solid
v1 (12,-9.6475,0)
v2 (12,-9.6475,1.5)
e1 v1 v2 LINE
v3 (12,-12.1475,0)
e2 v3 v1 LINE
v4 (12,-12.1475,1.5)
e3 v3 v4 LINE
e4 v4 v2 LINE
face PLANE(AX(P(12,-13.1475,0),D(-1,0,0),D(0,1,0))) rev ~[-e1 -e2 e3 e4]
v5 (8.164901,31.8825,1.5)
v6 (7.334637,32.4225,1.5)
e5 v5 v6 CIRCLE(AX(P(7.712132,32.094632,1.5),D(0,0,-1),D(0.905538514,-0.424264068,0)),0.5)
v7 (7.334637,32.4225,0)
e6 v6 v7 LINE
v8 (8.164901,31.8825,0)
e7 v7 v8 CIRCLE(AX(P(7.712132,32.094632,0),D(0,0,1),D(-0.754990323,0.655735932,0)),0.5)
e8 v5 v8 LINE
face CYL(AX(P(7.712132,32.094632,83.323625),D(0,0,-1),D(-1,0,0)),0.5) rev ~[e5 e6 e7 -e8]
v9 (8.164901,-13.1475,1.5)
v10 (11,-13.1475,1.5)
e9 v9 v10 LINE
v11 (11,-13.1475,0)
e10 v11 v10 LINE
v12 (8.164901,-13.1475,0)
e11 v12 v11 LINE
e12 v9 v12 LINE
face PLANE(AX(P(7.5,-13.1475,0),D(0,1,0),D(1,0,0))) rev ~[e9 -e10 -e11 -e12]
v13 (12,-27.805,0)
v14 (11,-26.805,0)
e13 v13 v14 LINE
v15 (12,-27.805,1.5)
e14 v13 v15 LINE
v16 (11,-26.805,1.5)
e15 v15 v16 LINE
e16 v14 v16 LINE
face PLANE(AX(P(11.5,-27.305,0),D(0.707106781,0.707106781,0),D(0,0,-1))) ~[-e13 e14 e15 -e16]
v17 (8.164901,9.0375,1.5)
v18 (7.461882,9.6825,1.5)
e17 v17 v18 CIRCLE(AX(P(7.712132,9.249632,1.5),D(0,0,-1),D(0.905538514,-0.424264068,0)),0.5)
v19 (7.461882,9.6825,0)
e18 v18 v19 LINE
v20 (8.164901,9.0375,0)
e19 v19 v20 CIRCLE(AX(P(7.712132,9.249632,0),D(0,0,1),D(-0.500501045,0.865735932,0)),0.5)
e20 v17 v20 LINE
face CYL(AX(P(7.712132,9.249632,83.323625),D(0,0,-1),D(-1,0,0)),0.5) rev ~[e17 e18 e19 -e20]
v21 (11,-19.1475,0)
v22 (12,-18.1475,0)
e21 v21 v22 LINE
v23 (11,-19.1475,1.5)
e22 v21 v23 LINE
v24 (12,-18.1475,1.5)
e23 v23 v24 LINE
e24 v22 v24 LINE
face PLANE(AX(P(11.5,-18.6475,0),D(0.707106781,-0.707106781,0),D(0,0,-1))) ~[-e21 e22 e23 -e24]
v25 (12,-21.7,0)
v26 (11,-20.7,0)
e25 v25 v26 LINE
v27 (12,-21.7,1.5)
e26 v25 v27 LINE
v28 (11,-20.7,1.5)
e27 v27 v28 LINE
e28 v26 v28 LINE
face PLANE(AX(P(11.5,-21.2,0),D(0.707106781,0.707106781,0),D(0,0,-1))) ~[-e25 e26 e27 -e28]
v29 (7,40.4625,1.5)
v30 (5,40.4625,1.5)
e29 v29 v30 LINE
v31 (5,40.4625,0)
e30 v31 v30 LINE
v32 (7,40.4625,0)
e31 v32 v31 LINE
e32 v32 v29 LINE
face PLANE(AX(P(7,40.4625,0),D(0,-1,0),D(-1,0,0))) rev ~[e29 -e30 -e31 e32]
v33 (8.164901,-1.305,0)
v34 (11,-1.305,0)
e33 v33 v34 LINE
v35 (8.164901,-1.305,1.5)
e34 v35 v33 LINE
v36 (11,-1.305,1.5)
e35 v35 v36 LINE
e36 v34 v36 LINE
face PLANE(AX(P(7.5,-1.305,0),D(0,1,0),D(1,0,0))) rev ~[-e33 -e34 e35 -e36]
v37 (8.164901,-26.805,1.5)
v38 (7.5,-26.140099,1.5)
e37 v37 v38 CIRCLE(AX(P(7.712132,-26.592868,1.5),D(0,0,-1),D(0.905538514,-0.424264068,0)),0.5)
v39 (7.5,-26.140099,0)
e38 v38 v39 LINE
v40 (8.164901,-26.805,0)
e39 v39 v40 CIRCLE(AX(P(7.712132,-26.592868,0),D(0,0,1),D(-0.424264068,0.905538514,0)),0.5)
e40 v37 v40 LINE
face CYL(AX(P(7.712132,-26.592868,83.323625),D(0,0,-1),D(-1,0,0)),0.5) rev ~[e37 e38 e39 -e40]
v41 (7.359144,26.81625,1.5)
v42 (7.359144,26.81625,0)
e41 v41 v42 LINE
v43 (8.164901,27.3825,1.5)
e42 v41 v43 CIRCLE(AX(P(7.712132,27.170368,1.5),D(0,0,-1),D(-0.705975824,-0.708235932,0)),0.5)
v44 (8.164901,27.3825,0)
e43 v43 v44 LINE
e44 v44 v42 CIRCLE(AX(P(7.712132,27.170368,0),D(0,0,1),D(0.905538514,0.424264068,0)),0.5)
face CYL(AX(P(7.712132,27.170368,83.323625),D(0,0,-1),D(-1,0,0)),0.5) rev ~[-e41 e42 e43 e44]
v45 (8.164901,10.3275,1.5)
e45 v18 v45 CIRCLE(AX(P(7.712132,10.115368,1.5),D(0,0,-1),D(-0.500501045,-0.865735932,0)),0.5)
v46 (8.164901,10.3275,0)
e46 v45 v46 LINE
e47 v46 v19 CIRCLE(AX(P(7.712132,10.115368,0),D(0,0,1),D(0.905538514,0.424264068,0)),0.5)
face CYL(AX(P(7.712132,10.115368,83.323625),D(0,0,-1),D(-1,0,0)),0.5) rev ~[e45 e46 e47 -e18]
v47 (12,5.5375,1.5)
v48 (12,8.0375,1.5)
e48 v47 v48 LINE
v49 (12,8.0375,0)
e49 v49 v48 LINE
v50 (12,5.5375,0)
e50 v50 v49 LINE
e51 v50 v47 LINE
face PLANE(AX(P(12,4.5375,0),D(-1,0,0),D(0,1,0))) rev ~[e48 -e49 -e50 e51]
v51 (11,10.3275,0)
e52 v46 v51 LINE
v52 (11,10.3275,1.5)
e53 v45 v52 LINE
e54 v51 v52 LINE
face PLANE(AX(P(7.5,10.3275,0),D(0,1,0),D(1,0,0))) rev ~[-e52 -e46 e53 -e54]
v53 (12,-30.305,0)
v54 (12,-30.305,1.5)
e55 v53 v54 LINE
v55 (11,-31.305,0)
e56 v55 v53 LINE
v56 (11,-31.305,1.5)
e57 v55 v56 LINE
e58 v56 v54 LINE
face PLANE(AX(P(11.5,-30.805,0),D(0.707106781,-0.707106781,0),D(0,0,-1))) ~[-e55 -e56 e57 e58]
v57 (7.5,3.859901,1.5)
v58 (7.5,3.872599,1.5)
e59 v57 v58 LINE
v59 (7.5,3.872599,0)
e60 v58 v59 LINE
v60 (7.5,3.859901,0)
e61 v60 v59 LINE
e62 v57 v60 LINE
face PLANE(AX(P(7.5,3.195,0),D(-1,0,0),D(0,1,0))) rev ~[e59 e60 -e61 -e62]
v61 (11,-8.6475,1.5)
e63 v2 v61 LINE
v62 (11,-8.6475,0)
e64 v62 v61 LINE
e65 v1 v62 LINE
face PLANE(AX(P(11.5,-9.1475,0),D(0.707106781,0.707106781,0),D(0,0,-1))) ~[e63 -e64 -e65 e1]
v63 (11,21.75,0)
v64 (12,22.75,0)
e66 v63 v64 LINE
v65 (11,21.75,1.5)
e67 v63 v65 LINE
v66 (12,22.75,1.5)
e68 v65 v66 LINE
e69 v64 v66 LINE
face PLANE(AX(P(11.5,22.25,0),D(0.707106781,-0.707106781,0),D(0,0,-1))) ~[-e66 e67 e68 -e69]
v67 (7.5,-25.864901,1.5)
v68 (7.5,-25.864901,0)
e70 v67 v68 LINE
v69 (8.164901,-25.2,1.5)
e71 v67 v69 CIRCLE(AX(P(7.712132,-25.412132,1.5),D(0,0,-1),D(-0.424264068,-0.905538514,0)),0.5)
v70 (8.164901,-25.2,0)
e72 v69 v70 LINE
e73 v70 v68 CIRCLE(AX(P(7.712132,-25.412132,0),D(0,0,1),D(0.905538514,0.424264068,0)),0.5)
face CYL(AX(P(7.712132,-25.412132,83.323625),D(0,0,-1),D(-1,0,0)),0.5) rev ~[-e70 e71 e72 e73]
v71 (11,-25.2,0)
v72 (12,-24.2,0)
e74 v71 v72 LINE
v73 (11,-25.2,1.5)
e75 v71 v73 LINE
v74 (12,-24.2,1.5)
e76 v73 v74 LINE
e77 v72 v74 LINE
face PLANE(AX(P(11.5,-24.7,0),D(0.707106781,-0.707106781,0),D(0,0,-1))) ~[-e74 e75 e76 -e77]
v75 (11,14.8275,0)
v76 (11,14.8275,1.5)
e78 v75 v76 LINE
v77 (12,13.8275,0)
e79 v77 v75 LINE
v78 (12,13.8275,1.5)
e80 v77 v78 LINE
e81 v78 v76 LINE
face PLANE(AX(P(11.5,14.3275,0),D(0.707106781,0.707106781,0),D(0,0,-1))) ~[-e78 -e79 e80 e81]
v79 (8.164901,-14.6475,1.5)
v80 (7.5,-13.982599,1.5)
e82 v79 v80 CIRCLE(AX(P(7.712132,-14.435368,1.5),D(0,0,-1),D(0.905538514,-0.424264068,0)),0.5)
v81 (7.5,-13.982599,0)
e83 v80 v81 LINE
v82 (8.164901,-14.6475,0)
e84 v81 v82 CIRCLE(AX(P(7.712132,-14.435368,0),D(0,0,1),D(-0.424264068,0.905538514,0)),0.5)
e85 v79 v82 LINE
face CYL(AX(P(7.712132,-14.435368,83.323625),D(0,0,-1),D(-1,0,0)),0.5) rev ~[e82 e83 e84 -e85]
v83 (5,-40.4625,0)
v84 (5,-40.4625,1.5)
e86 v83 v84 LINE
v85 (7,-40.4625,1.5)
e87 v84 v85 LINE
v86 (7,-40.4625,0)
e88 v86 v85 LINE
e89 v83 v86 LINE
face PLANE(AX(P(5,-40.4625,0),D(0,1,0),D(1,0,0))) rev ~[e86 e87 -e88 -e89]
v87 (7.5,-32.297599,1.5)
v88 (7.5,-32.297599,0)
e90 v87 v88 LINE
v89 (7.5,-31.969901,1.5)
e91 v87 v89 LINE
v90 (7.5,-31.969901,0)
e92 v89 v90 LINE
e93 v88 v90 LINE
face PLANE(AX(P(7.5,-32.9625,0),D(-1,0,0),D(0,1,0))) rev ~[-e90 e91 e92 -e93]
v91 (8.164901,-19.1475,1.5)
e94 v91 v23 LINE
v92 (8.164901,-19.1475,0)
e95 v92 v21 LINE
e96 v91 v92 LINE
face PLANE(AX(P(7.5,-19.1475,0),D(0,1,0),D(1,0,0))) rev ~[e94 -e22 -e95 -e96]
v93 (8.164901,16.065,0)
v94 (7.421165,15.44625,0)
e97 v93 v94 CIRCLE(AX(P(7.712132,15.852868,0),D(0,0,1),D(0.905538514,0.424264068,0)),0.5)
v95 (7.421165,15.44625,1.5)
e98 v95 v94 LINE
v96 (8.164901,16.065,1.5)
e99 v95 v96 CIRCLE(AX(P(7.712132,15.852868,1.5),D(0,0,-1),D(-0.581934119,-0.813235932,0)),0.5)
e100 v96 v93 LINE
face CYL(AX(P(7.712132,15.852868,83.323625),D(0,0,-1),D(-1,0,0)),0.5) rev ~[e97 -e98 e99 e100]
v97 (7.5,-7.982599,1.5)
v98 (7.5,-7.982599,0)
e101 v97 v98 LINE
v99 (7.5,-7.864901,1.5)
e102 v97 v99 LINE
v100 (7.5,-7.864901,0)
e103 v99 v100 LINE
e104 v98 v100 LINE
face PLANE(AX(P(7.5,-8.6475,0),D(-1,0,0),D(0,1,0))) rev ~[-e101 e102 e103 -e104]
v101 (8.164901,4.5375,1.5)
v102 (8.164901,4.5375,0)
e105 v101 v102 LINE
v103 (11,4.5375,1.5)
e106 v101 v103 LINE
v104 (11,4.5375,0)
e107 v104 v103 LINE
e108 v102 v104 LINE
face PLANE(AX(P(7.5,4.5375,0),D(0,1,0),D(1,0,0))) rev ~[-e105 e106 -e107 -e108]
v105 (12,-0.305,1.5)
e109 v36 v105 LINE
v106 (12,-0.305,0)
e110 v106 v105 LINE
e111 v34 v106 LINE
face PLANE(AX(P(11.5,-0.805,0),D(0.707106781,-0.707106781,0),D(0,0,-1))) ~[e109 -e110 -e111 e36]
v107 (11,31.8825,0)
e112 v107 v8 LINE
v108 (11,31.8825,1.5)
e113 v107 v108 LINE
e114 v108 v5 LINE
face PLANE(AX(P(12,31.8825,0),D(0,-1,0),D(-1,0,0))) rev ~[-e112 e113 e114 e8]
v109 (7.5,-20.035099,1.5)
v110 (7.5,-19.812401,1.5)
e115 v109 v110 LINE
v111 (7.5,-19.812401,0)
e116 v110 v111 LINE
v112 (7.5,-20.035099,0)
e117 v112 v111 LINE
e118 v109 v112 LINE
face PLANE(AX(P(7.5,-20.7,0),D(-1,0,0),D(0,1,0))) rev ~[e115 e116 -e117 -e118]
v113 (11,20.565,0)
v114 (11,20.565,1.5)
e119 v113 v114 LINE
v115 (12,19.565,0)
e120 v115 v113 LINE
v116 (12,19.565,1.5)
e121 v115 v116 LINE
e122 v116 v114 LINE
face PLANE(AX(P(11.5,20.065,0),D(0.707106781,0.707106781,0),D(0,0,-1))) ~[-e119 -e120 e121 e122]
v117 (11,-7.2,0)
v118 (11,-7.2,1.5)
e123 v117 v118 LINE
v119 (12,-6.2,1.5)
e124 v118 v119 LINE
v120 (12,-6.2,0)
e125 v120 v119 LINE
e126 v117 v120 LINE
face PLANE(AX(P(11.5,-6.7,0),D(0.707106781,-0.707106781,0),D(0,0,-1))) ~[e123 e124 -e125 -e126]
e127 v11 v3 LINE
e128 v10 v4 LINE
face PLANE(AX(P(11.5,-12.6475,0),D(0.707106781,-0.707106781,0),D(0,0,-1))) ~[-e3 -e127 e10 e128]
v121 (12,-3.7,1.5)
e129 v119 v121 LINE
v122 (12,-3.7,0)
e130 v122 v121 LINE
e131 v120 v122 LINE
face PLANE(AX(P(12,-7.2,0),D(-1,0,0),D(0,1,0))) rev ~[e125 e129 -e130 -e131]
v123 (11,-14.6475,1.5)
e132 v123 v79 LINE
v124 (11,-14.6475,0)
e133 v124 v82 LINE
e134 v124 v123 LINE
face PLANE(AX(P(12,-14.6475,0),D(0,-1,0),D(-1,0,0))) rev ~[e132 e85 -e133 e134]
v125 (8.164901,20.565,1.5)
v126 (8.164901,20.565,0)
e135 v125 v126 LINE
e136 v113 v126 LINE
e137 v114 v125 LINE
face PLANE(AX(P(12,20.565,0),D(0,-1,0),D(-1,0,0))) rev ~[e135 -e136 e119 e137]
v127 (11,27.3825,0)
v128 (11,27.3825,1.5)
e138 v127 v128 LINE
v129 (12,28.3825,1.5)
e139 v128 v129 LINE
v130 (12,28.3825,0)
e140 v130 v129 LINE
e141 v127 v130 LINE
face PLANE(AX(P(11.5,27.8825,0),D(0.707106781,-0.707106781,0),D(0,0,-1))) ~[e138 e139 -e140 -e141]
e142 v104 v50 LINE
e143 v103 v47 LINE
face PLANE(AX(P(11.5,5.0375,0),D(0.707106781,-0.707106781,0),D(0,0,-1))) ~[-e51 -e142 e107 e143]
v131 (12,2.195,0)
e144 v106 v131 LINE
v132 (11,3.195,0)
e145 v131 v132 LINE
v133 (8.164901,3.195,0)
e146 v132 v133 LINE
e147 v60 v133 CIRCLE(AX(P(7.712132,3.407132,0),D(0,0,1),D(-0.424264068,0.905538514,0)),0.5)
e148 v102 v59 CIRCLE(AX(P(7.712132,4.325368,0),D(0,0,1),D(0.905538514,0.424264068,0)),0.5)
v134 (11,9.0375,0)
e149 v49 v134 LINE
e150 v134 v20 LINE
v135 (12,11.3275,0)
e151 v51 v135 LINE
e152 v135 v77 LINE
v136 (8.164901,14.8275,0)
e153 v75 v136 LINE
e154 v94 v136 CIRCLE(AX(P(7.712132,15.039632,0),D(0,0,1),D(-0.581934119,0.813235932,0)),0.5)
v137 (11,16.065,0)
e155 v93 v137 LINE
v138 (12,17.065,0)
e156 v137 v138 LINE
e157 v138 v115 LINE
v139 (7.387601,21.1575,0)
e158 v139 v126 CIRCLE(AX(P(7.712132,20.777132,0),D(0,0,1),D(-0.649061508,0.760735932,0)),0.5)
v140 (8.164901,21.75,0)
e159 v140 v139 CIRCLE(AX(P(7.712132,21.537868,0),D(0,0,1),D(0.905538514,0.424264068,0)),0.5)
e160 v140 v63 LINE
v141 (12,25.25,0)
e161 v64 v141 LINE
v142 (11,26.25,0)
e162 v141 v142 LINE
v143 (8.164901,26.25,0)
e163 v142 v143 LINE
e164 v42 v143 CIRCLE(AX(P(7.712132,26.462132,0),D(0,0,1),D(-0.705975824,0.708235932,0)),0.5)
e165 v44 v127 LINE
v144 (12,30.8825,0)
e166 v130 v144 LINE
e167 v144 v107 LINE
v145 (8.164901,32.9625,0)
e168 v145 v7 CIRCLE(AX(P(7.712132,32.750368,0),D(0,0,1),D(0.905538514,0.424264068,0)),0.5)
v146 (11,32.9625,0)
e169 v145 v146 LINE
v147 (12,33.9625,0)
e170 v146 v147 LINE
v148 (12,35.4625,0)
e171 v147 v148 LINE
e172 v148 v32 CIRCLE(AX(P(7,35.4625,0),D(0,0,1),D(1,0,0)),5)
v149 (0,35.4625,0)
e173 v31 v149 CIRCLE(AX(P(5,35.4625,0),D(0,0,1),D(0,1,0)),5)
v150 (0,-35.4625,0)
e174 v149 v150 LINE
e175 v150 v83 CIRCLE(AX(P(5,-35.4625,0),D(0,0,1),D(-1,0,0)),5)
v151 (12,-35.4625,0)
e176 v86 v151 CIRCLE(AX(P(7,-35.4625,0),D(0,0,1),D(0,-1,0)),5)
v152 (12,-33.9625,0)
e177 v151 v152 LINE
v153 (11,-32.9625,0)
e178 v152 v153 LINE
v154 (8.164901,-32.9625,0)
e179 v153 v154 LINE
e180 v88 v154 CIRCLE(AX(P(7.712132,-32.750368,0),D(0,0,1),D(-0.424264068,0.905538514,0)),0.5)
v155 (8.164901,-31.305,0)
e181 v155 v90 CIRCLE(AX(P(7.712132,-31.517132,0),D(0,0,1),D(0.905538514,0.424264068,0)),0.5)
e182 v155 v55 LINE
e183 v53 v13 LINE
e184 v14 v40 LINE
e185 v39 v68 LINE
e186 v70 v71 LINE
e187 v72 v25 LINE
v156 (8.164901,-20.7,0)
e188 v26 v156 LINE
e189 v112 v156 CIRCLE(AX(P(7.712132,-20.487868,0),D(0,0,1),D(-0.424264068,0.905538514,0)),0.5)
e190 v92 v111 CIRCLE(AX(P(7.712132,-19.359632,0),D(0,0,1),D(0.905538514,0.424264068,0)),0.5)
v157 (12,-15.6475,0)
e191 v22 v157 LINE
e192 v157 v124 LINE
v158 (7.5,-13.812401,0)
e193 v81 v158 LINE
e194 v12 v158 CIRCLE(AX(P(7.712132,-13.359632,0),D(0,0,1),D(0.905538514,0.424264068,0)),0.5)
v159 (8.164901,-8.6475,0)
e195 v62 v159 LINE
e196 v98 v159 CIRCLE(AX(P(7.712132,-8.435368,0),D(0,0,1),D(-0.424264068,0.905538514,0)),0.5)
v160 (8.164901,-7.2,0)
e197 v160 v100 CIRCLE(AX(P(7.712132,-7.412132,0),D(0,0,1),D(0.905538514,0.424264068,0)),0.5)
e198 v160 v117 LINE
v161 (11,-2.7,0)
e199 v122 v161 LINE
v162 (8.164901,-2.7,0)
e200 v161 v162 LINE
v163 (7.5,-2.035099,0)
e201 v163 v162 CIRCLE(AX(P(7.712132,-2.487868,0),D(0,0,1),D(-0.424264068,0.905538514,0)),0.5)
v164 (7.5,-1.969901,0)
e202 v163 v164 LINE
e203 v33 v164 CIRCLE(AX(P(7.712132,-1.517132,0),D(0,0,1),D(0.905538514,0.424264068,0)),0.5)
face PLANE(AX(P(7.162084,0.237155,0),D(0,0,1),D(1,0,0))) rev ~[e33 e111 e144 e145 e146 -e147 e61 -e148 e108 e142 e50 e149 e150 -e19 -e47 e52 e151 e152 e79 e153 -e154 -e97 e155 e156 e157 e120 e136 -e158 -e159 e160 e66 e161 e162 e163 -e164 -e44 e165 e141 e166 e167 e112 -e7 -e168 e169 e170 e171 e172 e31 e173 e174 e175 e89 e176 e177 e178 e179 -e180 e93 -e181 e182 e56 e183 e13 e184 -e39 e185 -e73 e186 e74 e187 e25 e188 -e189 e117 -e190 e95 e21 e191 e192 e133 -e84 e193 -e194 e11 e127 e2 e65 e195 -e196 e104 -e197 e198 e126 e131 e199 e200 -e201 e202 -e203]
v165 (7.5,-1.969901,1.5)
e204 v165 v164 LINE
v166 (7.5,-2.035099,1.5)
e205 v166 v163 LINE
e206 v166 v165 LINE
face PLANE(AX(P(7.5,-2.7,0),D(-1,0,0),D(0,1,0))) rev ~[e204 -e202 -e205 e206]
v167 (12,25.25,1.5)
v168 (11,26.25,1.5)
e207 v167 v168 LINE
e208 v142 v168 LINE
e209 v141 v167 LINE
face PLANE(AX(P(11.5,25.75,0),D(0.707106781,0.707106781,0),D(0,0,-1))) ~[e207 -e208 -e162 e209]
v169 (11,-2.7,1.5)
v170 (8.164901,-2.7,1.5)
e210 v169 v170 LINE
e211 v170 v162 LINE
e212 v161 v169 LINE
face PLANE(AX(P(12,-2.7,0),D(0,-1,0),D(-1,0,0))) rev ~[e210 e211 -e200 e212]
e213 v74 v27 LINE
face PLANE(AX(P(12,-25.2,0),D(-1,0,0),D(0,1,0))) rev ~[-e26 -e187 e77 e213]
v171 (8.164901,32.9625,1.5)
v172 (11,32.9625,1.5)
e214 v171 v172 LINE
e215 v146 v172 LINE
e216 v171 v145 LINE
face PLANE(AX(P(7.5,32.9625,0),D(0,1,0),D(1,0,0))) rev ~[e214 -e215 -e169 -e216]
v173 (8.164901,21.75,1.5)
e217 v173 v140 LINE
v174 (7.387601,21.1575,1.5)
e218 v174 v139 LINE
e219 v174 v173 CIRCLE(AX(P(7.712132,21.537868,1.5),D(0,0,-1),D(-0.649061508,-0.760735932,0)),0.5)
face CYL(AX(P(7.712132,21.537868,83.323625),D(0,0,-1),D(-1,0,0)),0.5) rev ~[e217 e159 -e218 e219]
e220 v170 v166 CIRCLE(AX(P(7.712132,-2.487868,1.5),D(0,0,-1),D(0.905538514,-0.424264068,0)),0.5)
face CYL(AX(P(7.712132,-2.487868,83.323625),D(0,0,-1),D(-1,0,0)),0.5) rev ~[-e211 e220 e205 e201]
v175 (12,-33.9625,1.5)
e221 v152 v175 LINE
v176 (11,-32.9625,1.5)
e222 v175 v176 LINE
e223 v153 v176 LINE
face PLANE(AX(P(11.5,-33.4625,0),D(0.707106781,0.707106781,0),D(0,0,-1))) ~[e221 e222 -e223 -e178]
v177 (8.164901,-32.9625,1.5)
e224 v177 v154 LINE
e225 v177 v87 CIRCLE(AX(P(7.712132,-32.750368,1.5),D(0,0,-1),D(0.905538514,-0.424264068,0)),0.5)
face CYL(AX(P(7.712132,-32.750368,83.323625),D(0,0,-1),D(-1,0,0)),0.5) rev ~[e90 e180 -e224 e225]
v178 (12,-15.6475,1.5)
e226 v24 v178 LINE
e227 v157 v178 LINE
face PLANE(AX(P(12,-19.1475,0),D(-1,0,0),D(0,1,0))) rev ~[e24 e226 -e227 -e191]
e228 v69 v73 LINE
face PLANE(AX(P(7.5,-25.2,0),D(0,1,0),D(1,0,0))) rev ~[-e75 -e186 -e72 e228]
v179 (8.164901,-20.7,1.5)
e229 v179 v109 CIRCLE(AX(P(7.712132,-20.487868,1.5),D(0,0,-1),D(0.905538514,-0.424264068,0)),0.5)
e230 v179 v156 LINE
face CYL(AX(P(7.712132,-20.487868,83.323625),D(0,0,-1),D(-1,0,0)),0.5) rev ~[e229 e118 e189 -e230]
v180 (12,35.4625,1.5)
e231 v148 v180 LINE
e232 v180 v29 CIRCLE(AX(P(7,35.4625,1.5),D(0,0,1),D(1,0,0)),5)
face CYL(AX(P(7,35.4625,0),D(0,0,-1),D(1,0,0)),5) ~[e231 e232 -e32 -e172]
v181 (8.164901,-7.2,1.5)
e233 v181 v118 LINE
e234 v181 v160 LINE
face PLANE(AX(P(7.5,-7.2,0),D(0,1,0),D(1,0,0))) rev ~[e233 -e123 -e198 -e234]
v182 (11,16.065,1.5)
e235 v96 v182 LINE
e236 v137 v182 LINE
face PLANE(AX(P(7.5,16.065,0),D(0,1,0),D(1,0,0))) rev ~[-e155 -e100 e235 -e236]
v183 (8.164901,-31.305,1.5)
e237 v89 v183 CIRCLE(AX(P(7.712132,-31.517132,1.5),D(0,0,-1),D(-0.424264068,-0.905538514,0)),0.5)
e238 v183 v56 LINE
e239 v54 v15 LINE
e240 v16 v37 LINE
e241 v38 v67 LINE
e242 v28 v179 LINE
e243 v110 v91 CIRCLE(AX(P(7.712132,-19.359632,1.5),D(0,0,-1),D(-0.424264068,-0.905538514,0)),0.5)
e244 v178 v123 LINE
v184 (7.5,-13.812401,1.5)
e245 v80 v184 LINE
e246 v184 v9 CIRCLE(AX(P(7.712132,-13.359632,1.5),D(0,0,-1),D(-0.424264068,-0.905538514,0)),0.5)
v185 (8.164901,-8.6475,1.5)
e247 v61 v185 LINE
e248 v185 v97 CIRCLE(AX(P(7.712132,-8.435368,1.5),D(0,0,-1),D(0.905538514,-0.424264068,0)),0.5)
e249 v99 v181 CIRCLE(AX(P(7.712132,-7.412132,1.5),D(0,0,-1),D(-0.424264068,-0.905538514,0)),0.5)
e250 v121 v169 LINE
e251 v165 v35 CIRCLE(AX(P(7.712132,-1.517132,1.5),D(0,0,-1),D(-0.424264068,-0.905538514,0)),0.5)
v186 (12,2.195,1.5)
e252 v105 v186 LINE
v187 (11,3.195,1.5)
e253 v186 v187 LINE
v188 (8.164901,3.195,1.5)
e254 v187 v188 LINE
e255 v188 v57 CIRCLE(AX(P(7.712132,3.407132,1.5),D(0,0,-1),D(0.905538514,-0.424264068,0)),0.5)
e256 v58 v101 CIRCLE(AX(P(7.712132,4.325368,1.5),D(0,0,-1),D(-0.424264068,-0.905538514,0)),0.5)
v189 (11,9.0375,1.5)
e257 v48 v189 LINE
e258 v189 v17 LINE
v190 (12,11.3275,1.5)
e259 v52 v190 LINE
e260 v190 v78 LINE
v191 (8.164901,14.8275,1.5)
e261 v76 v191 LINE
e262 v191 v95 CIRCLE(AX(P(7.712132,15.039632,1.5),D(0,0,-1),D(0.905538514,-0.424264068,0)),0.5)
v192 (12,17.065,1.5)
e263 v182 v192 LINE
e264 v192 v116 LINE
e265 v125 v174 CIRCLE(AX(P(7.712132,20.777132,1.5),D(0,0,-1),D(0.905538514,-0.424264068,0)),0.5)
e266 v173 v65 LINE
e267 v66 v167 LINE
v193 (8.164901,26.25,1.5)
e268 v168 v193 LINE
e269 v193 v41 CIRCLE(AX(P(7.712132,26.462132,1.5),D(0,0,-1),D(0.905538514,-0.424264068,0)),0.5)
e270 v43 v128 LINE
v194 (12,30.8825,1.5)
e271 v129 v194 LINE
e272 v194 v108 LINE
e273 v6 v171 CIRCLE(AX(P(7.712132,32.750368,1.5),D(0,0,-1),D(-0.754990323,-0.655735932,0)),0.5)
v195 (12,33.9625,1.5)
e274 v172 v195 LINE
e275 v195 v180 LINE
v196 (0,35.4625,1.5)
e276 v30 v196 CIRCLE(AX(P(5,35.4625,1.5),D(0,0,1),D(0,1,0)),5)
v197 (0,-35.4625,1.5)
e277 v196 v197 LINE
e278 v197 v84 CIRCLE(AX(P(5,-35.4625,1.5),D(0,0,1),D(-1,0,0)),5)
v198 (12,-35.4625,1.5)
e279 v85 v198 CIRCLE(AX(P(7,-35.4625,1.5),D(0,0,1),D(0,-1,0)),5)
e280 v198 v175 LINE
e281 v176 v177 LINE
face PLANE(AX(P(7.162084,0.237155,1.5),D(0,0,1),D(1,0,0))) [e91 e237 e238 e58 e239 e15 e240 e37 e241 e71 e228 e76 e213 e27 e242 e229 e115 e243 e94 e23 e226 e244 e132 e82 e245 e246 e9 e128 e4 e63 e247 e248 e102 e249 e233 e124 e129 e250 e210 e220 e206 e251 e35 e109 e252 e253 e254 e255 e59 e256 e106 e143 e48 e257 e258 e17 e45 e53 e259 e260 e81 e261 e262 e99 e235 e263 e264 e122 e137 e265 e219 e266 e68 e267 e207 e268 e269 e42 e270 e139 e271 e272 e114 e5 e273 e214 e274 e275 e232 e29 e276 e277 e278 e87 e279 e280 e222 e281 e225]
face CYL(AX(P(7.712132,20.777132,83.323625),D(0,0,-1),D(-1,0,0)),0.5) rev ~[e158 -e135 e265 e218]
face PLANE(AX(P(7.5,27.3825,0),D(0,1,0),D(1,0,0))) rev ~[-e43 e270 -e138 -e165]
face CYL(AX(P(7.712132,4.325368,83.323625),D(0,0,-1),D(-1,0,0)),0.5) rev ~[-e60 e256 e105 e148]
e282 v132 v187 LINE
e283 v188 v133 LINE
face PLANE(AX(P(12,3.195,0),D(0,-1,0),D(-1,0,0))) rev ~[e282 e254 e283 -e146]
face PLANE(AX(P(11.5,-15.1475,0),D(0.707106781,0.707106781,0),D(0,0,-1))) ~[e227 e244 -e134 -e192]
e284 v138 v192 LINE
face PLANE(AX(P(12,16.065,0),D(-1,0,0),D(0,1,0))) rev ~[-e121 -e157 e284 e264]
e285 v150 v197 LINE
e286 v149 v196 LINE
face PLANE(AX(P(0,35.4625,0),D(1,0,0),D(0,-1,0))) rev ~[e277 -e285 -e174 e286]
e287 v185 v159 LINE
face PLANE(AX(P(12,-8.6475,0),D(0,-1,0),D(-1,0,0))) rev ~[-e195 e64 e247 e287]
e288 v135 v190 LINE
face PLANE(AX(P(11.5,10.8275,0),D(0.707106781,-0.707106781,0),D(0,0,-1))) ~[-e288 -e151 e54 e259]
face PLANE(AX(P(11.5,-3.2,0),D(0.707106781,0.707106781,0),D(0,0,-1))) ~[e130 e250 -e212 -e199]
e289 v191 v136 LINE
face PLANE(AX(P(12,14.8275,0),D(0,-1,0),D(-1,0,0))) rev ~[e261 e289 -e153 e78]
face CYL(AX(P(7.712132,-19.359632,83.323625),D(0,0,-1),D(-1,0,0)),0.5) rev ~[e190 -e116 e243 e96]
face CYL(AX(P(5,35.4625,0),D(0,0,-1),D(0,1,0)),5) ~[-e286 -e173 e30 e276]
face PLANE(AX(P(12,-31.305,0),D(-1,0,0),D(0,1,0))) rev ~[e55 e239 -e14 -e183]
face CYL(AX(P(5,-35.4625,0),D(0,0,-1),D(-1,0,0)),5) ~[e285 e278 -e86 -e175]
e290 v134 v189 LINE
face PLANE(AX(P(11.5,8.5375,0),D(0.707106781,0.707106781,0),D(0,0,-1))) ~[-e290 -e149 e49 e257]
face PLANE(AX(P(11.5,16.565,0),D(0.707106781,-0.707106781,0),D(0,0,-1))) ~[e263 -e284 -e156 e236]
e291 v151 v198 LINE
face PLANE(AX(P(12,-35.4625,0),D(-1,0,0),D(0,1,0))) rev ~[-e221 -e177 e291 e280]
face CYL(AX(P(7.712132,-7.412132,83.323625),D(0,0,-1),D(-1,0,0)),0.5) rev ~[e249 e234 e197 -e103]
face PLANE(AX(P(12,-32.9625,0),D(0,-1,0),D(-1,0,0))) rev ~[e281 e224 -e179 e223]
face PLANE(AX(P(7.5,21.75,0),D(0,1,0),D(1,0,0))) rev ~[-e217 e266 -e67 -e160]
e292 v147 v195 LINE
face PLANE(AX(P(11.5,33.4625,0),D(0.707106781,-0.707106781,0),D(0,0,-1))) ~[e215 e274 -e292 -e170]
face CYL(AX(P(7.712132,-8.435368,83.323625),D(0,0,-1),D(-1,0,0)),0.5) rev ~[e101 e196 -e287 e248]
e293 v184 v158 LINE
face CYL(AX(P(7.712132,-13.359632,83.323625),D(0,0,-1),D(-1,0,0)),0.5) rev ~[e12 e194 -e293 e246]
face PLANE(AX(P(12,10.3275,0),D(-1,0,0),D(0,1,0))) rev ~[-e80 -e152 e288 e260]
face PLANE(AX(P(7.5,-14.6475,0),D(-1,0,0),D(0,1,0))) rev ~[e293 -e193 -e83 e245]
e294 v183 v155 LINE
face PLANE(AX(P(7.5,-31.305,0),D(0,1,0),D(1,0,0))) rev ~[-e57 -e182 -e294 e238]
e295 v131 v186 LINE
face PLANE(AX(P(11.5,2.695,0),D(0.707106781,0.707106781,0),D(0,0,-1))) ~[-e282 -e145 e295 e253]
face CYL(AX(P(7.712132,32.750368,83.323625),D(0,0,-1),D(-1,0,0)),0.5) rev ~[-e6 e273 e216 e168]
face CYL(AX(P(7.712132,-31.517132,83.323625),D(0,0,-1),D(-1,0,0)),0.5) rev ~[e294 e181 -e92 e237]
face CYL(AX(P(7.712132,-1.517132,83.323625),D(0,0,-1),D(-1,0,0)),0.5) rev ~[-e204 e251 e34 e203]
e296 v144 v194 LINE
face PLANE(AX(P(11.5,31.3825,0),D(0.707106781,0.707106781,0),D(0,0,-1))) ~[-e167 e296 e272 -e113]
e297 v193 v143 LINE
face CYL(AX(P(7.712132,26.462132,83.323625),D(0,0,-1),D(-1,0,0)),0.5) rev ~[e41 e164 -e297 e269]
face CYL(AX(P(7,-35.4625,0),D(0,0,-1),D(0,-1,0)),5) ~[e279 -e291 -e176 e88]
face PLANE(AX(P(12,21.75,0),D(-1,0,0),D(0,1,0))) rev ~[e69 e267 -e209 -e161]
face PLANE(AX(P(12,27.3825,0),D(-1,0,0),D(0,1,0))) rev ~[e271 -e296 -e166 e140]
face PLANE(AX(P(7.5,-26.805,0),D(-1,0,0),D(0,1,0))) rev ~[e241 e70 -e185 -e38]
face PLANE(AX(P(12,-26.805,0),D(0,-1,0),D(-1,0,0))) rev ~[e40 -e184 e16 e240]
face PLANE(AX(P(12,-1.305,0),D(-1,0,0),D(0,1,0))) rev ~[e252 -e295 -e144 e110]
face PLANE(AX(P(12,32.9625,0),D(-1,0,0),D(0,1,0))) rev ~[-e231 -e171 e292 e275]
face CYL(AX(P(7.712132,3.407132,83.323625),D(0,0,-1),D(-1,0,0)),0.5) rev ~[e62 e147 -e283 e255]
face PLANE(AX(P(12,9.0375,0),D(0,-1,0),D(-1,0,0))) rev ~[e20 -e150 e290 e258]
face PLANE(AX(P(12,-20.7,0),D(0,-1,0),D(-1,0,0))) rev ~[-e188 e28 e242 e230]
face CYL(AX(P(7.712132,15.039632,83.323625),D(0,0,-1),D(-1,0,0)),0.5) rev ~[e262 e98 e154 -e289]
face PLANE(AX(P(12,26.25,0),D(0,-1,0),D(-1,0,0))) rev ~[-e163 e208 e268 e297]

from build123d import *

# Parameters (mm, degrees)
BOSS_EXTRUDE1_DEPTH   = 1.5
CHAMFER1_SIZE         = 1
F_1_0MM_DOWEL_HOLE1_D = 1


with BuildPart() as part:
    # Sketch1 → Boss-Extrude1 (new body)
    with BuildSketch(Plane.XY):
        with BuildLine():
            Line((0, 35.4625), (0, -35.4625))
            ThreePointArc((0, -35.4625), (1.464466094, -38.998033906), (5, -40.4625))
            Line((5, -40.4625), (7, -40.4625))
            ThreePointArc((7, -40.4625), (10.535533906, -38.998033906), (12, -35.4625))
            Line((12, -35.4625), (12, -32.9625))
            Line((12, -32.9625), (7.5, -32.9625))
            Line((7.5, -32.9625), (7.5, -31.305))
            Line((7.5, -31.305), (12, -31.305))
            Line((12, -31.305), (12, -26.805))
            Line((12, -26.805), (7.5, -26.805))
            Line((7.5, -26.805), (7.5, -25.2))
            Line((7.5, -25.2), (12, -25.2))
            Line((12, -25.2), (12, -20.7))
            Line((12, -20.7), (7.5, -20.7))
            Line((7.5, -20.7), (7.5, -19.1475))
            Line((7.5, -19.1475), (12, -19.1475))
            Line((12, -19.1475), (12, -14.6475))
            Line((12, -14.6475), (7.5, -14.6475))
            Line((7.5, -14.6475), (7.5, -13.1475))
            Line((7.5, -13.1475), (12, -13.1475))
            Line((12, -13.1475), (12, -8.6475))
            Line((12, -8.6475), (7.5, -8.6475))
            Line((7.5, -8.6475), (7.5, -7.2))
            Line((7.5, -7.2), (12, -7.2))
            Line((12, -7.2), (12, -2.7))
            Line((12, -2.7), (7.5, -2.7))
            Line((7.5, -2.7), (7.5, -1.305))
            Line((7.5, -1.305), (12, -1.305))
            Line((12, -1.305), (12, 3.195))
            Line((12, 3.195), (7.5, 3.195))
            Line((7.5, 3.195), (7.5, 4.5375))
            Line((7.5, 4.5375), (12, 4.5375))
            Line((12, 4.5375), (12, 9.0375))
            Line((12, 9.0375), (7.5, 9.0375))
            Line((7.5, 9.0375), (7.5, 10.3275))
            Line((7.5, 10.3275), (12, 10.3275))
            Line((12, 10.3275), (12, 14.8275))
            Line((12, 14.8275), (7.5, 14.8275))
            Line((7.5, 14.8275), (7.5, 16.065))
            Line((7.5, 16.065), (12, 16.065))
            Line((12, 16.065), (12, 20.565))
            Line((12, 20.565), (7.5, 20.565))
            Line((7.5, 20.565), (7.5, 21.75))
            Line((7.5, 21.75), (12, 21.75))
            Line((12, 21.75), (12, 26.25))
            Line((12, 26.25), (7.5, 26.25))
            Line((7.5, 26.25), (7.5, 27.3825))
            Line((7.5, 27.3825), (12, 27.3825))
            Line((12, 27.3825), (12, 31.8825))
            Line((12, 31.8825), (7.5, 31.8825))
            Line((7.5, 31.8825), (7.5, 32.9625))
            Line((7.5, 32.9625), (12, 32.9625))
            Line((12, 32.9625), (12, 35.4625))
            ThreePointArc((12, 35.4625), (10.535533906, 38.998033906), (7, 40.4625))
            Line((7, 40.4625), (5, 40.4625))
            ThreePointArc((5, 40.4625), (1.464466094, 38.998033906), (0, 35.4625))
        make_face()
    extrude(amount=BOSS_EXTRUDE1_DEPTH)

    # Chamfer1
    chamfer1_edges = [part.edges().sort_by_distance(p)[0] for p in [
        (12, 31.8825, 0.75),
        (12, 27.3825, 0.75),
        (12, 26.25, 0.75),
        (12, 21.75, 0.75),
        (12, 20.565, 0.75),
        (12, 16.065, 0.75),
        (12, 14.8275, 0.75),
        (12, 10.3275, 0.75),
        (12, 9.0375, 0.75),
        (12, 4.5375, 0.75),
        (12, 3.195, 0.75),
        (12, -1.305, 0.75),
        (12, -2.7, 0.75),
        (12, -7.2, 0.75),
        (12, -8.6475, 0.75),
        (12, -13.1475, 0.75),
        (12, -14.6475, 0.75),
        (12, -19.1475, 0.75),
        (12, -20.7, 0.75),
        (12, -25.2, 0.75),
        (12, -26.805, 0.75),
        (12, -31.305, 0.75),
        (12, -32.9625, 0.75),
        (12, 32.9625, 0.75),
    ]]
    chamfer(chamfer1_edges, length=CHAMFER1_SIZE)

    # Ø1.0mm Dowel Hole1 (through all)
    with Locations(Plane.XY.offset(1.5)):
        with Locations((7.712132034, 32.750367966), (7.712132034, 32.094632034), (7.712132034, 27.170367966), (7.712132034, 26.462132034), (7.712132034, 21.537867966), (7.712132034, 20.777132034), (7.712132034, 15.852867966), (7.712132034, 15.039632034), (7.712132034, 10.115367966), (7.712132034, 9.249632034), (7.712132034, 4.325367966), (7.712132034, 3.407132034), (7.712132034, -1.517132034), (7.712132034, -2.487867966), (7.712132034, -7.412132034), (7.712132034, -8.435367966), (7.712132034, -13.359632034), (7.712132034, -14.435367966), (7.712132034, -19.359632034), (7.712132034, -20.487867966), (7.712132034, -25.412132034), (7.712132034, -26.592867966), (7.712132034, -31.517132034), (7.712132034, -32.750367966)):
            Hole(F_1_0MM_DOWEL_HOLE1_D / 2)


solid = part.part
